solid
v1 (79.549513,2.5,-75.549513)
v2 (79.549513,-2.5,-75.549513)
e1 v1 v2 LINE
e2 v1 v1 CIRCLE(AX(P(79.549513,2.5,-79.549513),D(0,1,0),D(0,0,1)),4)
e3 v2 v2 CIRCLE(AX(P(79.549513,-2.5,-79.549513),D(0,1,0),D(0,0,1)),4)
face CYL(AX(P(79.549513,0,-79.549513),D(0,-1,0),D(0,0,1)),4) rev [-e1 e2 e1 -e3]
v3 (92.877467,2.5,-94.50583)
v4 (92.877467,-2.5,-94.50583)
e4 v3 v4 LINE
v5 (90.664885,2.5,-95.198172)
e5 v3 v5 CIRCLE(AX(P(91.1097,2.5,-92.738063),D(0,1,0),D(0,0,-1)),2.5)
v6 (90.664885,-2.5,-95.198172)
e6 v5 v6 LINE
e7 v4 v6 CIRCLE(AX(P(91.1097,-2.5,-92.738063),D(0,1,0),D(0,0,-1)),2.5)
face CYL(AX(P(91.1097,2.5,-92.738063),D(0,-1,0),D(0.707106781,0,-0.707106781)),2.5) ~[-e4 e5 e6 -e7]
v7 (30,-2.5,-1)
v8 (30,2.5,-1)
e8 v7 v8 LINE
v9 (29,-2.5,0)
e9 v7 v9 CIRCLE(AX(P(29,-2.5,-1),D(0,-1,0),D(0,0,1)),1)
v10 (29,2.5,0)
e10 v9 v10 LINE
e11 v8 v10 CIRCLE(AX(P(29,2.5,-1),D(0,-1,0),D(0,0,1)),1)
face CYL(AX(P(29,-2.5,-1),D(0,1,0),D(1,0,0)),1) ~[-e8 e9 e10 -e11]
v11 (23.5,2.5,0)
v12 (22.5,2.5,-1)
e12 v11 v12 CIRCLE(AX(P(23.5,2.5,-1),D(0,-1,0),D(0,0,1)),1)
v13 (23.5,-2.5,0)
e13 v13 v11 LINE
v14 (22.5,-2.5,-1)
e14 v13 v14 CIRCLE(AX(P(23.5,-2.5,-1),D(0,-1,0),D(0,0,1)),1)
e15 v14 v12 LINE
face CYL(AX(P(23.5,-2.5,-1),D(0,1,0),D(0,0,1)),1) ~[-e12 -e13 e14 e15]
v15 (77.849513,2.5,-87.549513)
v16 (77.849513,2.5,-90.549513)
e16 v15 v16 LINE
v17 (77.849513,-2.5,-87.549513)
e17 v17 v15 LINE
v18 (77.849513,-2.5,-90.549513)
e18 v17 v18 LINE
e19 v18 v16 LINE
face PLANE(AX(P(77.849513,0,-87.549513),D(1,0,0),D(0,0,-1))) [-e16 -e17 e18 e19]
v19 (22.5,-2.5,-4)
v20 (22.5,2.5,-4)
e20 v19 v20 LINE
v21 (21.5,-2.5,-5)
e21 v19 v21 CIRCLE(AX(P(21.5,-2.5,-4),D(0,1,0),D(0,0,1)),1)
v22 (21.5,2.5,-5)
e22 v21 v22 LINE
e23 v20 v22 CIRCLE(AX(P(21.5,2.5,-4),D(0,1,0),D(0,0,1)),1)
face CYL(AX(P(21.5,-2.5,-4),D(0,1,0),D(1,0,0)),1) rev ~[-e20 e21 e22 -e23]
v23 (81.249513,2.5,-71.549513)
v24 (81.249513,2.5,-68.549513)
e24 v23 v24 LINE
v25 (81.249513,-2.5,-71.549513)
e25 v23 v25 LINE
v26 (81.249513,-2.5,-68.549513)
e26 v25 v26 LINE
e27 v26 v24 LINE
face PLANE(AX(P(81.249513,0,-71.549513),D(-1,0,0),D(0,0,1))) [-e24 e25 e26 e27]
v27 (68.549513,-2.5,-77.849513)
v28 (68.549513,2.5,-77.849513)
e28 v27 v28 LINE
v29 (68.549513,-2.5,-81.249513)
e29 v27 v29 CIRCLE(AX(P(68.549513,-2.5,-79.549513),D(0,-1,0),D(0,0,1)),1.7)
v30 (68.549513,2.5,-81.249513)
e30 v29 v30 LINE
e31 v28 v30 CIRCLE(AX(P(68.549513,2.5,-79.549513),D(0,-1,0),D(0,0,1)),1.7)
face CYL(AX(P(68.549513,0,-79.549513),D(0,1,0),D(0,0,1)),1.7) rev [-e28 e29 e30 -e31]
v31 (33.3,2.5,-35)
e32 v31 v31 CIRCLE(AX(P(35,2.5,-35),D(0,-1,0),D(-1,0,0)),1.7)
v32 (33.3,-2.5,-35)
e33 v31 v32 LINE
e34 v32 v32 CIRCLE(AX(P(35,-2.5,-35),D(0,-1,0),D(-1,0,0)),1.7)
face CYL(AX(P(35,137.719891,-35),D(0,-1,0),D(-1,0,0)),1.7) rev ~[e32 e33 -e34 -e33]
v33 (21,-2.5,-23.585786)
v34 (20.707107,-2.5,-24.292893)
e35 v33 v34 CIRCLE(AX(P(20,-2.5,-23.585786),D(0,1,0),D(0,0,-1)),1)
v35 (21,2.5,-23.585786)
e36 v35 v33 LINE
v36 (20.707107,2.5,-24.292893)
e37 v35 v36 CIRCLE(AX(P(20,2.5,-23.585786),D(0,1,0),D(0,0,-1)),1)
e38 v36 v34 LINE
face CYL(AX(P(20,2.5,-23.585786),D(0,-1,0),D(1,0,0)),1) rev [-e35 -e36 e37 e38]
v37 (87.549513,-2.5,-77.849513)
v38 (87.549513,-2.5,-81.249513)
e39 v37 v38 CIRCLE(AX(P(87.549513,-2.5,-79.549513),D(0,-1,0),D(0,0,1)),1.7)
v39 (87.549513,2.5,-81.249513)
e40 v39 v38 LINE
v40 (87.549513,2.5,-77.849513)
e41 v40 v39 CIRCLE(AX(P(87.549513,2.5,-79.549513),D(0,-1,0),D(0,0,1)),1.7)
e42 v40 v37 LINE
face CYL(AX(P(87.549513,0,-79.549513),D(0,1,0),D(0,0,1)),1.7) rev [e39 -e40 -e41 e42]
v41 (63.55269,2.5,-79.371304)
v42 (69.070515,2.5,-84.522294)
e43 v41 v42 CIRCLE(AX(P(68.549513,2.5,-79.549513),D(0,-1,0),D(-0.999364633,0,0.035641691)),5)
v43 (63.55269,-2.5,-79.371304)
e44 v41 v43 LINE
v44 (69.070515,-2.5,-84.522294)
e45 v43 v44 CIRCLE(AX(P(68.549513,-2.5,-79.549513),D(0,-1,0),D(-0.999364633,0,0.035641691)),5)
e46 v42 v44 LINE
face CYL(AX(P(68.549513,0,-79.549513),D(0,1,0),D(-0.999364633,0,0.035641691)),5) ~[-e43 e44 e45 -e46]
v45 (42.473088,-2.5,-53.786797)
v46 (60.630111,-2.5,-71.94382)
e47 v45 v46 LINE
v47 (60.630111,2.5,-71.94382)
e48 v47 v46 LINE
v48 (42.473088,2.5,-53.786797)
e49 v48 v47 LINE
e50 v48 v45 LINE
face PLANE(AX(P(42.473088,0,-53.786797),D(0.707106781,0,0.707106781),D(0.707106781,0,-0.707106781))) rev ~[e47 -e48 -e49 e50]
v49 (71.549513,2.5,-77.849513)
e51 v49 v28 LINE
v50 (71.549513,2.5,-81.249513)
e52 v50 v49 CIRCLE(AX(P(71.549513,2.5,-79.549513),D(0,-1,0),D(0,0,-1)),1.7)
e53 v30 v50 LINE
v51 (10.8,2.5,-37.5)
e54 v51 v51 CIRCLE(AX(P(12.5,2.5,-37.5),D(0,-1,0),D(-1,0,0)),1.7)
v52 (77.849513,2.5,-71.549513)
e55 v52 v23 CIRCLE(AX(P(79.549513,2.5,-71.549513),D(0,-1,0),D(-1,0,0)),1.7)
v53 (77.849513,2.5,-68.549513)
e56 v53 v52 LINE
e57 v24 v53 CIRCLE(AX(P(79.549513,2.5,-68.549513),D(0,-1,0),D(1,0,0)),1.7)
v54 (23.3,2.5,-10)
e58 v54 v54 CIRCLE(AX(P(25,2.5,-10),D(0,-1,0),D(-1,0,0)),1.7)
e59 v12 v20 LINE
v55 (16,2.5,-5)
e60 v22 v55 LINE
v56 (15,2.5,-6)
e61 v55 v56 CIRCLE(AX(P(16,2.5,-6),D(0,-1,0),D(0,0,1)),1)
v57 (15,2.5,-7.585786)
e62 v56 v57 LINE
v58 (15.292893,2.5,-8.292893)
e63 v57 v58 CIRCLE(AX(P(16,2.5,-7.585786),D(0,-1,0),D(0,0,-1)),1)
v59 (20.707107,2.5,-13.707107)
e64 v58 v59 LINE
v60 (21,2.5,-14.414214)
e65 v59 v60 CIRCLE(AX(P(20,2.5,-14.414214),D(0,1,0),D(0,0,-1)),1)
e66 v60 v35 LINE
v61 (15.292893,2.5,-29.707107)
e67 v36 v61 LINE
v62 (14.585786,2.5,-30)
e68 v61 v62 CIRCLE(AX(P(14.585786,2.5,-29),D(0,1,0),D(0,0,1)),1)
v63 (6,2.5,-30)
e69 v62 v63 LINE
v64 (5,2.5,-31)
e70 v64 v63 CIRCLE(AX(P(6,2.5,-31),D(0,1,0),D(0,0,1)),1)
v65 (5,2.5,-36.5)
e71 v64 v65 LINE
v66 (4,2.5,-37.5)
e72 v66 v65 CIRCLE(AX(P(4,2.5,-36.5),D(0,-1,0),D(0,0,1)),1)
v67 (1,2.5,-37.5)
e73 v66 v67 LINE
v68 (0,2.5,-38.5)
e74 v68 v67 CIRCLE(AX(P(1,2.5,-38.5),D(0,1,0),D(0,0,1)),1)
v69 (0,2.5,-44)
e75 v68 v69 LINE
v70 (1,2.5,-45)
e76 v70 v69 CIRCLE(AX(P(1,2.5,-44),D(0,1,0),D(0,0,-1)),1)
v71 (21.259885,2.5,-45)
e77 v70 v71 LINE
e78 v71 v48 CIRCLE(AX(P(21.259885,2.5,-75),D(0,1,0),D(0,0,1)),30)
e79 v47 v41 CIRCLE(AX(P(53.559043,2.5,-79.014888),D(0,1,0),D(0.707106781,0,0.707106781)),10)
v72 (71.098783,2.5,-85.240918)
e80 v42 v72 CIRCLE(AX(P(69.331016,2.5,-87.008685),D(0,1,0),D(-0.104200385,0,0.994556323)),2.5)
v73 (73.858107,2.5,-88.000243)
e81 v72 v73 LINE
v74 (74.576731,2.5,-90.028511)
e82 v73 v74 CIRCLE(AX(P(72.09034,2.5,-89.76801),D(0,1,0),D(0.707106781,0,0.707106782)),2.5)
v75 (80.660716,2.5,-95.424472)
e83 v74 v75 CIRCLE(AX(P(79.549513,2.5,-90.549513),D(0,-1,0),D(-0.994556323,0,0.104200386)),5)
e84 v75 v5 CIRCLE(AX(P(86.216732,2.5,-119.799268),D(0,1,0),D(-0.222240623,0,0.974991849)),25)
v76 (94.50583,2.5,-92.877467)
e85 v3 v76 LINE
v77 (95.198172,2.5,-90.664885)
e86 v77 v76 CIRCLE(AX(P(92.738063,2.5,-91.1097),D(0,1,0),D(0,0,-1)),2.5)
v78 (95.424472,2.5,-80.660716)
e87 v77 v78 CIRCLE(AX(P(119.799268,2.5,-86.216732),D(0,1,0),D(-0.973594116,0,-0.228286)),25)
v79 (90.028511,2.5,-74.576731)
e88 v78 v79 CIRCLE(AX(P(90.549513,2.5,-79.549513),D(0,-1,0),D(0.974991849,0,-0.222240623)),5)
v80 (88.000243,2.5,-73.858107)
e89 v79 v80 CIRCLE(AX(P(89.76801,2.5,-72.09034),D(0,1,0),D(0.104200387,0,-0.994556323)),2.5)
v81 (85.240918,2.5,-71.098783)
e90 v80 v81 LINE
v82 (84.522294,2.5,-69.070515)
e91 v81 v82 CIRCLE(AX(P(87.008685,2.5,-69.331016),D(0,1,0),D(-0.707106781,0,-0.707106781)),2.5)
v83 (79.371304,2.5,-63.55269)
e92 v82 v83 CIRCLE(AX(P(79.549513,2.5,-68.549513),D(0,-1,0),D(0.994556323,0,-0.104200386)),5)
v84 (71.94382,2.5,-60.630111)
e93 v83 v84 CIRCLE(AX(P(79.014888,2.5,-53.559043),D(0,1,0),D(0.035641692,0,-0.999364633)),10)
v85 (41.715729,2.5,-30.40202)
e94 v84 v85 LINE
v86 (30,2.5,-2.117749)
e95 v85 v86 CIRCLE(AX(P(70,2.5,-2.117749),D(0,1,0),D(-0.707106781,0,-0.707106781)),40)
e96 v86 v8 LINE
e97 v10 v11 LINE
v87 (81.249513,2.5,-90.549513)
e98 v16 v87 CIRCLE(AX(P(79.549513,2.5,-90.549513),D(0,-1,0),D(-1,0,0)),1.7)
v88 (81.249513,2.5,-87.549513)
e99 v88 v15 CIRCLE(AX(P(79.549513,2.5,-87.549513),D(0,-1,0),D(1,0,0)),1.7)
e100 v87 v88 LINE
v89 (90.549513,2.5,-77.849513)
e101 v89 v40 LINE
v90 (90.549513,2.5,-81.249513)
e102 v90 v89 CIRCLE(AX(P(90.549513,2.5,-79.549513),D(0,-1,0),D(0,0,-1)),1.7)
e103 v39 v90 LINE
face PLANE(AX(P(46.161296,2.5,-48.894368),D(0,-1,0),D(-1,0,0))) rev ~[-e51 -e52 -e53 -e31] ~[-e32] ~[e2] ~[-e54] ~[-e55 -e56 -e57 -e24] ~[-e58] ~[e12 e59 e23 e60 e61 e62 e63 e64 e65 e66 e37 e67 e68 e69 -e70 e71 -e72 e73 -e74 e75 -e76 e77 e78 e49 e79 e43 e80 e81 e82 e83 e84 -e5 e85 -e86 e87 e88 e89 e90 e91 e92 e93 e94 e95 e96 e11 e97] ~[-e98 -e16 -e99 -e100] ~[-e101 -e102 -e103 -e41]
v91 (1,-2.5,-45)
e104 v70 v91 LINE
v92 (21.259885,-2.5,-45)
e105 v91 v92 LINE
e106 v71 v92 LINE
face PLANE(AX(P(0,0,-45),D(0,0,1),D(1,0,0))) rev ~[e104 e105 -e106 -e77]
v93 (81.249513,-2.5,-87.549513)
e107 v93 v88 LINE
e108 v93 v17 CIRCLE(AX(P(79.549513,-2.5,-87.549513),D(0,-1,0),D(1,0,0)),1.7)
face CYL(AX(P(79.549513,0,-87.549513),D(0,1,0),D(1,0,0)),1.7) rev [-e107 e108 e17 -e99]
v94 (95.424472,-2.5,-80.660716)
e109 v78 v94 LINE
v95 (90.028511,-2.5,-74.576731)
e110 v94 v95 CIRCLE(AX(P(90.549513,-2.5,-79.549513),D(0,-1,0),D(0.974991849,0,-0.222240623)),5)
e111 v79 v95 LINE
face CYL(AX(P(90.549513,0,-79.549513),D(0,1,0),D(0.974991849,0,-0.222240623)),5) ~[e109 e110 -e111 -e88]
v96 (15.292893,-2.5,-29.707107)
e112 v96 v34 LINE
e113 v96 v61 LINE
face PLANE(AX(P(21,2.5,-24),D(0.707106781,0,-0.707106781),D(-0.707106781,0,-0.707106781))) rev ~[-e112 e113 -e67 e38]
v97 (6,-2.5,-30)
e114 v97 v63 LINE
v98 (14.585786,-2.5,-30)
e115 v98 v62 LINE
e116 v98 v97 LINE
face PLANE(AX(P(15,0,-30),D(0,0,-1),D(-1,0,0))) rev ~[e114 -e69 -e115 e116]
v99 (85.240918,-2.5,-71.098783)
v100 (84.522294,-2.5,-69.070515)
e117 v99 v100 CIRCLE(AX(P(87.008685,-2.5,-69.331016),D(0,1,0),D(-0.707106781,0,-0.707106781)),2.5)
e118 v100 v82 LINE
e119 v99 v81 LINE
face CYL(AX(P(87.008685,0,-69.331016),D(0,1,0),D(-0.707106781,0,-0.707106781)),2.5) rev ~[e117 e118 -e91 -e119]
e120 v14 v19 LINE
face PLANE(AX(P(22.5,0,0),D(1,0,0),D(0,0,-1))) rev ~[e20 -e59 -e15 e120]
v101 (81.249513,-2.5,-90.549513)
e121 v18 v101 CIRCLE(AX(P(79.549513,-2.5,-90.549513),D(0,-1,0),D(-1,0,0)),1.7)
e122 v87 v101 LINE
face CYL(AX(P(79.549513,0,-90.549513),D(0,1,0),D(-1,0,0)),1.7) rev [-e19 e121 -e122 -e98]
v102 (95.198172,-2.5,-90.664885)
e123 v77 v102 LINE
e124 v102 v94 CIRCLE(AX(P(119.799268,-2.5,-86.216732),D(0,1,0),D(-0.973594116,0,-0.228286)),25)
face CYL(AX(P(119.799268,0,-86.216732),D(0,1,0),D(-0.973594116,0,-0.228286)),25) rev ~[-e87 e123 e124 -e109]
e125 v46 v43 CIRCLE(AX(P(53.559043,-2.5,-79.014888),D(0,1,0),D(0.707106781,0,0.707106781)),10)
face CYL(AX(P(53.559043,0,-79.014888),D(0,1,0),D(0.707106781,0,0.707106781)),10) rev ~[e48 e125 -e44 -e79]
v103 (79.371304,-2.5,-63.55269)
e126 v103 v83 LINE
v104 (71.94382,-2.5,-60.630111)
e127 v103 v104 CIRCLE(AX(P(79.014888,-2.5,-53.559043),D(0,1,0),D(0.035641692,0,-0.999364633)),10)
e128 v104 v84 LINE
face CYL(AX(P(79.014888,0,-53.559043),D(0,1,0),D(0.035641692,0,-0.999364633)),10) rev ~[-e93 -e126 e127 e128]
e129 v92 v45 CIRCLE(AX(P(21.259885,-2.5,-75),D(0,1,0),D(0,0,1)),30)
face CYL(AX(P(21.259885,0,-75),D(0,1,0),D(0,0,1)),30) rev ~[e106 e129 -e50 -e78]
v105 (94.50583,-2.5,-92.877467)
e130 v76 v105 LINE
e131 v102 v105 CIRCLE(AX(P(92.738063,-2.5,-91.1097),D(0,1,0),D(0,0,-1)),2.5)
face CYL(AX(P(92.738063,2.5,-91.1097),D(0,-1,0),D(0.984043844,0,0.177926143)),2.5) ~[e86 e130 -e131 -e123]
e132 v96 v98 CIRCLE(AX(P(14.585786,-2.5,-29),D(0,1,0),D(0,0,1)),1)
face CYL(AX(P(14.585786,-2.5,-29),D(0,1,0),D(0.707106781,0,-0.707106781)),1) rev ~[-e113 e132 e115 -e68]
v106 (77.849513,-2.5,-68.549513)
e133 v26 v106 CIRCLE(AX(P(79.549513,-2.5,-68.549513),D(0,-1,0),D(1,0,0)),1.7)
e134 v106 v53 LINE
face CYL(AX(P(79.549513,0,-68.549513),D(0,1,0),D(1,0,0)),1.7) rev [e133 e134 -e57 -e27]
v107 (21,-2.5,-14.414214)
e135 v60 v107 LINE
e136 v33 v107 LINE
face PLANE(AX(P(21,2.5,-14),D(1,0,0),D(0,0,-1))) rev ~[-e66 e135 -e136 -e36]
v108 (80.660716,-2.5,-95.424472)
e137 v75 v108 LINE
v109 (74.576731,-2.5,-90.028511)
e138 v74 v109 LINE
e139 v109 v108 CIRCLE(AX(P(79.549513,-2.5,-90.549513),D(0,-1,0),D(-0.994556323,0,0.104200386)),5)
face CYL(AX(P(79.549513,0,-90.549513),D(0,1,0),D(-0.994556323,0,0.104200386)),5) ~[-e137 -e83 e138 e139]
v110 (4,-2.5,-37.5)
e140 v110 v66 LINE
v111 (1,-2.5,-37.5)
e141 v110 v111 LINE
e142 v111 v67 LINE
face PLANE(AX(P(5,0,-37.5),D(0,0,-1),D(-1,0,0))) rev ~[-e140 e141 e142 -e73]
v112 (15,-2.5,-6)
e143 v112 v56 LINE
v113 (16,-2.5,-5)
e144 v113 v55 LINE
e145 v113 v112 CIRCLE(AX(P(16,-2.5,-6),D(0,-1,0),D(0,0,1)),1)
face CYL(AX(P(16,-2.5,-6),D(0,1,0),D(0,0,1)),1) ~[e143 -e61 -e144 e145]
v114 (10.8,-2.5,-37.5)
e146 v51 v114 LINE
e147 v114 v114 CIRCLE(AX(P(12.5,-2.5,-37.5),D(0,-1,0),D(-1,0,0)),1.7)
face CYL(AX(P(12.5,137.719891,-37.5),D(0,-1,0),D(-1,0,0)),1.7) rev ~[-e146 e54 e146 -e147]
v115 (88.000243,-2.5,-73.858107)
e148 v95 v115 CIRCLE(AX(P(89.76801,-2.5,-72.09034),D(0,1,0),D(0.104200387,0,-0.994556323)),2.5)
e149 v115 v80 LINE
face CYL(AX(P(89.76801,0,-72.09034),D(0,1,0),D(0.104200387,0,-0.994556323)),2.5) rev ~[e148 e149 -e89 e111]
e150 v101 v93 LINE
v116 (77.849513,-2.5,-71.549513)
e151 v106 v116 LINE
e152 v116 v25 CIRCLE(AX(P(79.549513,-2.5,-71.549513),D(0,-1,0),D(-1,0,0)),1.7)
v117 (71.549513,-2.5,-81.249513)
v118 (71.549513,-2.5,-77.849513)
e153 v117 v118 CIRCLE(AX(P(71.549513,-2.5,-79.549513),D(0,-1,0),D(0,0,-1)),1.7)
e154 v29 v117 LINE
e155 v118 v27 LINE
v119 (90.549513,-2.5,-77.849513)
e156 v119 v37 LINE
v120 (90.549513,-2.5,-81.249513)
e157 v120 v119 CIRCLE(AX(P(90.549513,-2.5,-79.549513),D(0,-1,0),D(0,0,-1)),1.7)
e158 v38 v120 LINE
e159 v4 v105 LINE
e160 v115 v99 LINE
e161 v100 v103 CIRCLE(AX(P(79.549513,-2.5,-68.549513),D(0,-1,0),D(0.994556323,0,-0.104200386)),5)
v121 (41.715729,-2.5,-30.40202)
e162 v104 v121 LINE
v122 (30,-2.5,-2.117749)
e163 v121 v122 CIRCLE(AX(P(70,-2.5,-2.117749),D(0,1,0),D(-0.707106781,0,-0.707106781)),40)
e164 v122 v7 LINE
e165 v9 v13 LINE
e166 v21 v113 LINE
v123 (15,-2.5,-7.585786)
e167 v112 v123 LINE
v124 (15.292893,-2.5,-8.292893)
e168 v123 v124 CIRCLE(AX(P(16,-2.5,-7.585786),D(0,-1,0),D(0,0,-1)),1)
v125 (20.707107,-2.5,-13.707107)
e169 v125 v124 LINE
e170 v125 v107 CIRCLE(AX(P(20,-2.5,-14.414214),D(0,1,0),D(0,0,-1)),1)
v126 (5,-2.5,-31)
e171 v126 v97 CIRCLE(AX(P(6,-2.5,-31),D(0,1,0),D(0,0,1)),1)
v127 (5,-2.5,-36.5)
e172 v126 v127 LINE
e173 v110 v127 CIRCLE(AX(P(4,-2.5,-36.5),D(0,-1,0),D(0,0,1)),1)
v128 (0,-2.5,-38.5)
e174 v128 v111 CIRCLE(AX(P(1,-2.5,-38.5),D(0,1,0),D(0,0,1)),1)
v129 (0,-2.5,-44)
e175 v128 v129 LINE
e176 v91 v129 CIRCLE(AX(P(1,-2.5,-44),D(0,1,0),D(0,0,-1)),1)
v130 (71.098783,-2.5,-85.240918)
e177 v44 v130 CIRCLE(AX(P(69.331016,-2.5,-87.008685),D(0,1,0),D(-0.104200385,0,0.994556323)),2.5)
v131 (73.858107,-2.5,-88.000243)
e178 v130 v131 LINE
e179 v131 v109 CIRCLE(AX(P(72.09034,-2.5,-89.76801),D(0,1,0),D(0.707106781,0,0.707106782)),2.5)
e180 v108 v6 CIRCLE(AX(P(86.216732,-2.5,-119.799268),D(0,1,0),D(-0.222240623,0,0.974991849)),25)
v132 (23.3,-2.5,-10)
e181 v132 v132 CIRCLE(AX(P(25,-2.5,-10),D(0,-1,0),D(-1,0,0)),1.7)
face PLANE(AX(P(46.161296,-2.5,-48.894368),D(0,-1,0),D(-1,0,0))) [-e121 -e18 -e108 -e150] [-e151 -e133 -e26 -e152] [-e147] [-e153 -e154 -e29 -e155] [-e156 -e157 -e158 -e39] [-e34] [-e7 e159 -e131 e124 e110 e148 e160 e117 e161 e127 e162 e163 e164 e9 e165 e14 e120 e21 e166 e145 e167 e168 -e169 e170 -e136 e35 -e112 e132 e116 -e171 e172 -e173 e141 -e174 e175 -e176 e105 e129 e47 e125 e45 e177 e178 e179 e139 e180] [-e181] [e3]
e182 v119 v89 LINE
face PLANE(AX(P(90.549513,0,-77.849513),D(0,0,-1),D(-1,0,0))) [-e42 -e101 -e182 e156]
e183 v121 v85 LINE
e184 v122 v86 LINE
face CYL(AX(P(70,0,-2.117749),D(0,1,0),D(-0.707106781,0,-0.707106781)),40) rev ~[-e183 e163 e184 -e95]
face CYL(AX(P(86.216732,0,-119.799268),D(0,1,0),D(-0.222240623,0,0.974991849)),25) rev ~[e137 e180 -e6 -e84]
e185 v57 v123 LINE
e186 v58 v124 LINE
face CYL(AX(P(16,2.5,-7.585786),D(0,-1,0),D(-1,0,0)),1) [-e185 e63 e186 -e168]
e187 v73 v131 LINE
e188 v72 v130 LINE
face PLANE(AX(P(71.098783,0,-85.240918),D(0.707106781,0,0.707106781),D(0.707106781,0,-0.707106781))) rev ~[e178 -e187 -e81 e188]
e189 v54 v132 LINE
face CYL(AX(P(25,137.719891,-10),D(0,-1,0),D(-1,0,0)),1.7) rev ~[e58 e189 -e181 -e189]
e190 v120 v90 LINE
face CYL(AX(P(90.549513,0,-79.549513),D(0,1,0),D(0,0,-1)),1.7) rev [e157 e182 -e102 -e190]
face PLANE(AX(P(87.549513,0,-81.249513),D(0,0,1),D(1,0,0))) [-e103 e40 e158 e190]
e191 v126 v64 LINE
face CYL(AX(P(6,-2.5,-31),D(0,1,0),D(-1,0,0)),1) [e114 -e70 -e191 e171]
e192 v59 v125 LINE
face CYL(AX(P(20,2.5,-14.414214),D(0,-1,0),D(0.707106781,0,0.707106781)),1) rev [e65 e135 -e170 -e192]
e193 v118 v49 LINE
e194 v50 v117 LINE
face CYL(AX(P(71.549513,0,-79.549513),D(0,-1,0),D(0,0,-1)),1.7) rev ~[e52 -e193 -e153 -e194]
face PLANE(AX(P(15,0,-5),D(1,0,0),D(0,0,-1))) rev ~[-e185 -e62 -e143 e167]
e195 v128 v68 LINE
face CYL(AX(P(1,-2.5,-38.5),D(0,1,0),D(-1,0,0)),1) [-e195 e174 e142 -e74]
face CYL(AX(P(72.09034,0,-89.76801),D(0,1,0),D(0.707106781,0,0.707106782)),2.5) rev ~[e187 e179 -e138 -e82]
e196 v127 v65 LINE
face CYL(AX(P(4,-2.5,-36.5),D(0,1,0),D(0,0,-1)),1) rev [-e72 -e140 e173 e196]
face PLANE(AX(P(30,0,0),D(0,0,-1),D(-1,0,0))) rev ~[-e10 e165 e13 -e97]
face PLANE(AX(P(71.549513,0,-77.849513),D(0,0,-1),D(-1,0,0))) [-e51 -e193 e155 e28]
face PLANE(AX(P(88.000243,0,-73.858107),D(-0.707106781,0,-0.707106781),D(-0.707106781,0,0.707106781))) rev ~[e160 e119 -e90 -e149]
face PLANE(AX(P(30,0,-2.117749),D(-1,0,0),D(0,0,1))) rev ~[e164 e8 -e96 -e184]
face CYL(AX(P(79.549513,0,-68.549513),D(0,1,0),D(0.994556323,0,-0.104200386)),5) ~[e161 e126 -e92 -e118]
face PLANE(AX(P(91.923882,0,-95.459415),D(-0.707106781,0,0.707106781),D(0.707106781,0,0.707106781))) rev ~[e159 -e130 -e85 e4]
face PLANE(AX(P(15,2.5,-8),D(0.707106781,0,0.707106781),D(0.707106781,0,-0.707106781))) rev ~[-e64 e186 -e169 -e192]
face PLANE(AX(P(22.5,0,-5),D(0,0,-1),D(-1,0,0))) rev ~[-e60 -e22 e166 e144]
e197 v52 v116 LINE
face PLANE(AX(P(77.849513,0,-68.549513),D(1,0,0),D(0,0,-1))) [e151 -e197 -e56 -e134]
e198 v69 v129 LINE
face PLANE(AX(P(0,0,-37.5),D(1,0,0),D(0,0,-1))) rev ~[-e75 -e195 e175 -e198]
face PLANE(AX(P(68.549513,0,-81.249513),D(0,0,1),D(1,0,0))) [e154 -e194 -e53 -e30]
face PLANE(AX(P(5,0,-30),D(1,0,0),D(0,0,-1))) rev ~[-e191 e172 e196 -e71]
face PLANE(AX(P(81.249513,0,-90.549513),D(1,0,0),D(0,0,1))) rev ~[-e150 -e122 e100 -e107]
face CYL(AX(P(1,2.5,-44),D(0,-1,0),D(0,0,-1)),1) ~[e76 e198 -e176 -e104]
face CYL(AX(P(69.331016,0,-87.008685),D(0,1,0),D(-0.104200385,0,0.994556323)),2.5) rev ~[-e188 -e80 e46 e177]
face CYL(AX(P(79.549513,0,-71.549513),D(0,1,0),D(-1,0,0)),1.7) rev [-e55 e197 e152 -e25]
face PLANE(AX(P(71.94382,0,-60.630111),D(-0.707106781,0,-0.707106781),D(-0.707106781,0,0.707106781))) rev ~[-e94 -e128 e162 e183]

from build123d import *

# Parameters (mm, degrees)
SKETCH1_R            = 4
BOSS_EXTRUDE1_DEPTH  = 2.5
CUT_EXTRUDE1_DEPTH   = 10
FILLET1_R            = 2.5
FILLET2_R            = 1
M3_CLEARANCE_HOLE1_D = 3.4
M3_CLEARANCE_HOLE2_D = 3.4


with BuildPart() as part:
    # Sketch1 → Boss-Extrude1 (new, symmetric)
    with BuildSketch(Plane(origin=(0, 0, 0), x_dir=(1, 0, 0), z_dir=(0, 1, 0))):
        with BuildLine():
            Line((0, 37.5), (0, 45))
            Line((0, 45), (21.25988463, 45))
            ThreePointArc((21.25988463, 45), (32.740387601, 47.283614025), (42.473088065, 53.786796564))
            Line((42.473088065, 53.786796564), (60.630111199, 71.943819698))
            ThreePointArc((60.630111199, 71.943819698), (62.864579349, 75.353330401), (63.552689718, 79.371304426))
            ThreePointArc((63.552689718, 79.371304426), (65.137560566, 83.204452196), (69.070514812, 84.522294498))
            ThreePointArc((69.070514812, 84.522294498), (70.16592161, 84.652219255), (71.098782729, 85.240918353))
            Line((71.098782729, 85.240918353), (73.858107414, 88.000243038))
            ThreePointArc((73.858107414, 88.000243038), (74.446806512, 88.933104157), (74.576731268, 90.028510955))
            ThreePointArc((74.576731268, 90.028510955), (76.231825981, 94.29022854), (80.660715996, 95.424472129))
            ThreePointArc((80.660715996, 95.424472129), (86.294292266, 94.799388668), (91.923881554, 95.45941546))
            Line((91.923881554, 95.45941546), (95.45941546, 91.923881554))
            ThreePointArc((95.45941546, 91.923881554), (94.799388668, 86.294292266), (95.424472129, 80.660715996))
            ThreePointArc((95.424472129, 80.660715996), (94.29022854, 76.231825981), (90.028510955, 74.576731268))
            ThreePointArc((90.028510955, 74.576731268), (88.933104157, 74.446806512), (88.000243038, 73.858107414))
            Line((88.000243038, 73.858107414), (85.240918353, 71.098782729))
            ThreePointArc((85.240918353, 71.098782729), (84.652219255, 70.16592161), (84.522294498, 69.070514812))
            ThreePointArc((84.522294498, 69.070514812), (83.204452196, 65.137560566), (79.371304426, 63.552689718))
            ThreePointArc((79.371304426, 63.552689718), (75.353330401, 62.864579349), (71.943819698, 60.630111199))
            Line((71.943819698, 60.630111199), (41.715728753, 30.402020254))
            ThreePointArc((41.715728753, 30.402020254), (33.0448187, 17.425086301), (30, 2.117749006))
            Line((30, 2.117749006), (30, 0))
            Line((30, 0), (22.5, 0))
            Line((22.5, 0), (22.5, 5))
            Line((22.5, 5), (15, 5))
            Line((15, 5), (15, 30))
            Line((15, 30), (5, 30))
            Line((5, 30), (5, 37.5))
            Line((5, 37.5), (0, 37.5))
        make_face()
        with Locations(Location((79.549512883, 79.549512883, 0), (0, 0, 270))):
            Circle(SKETCH1_R, mode=Mode.SUBTRACT)
        with BuildLine():
            Line((77.849512883, 87.549512883), (77.849512883, 90.549512883))
            ThreePointArc((77.849512883, 90.549512883), (79.549512883, 92.249512883), (81.249512883, 90.549512883))
            Line((81.249512883, 90.549512883), (81.249512883, 87.549512883))
            ThreePointArc((81.249512883, 87.549512883), (79.549512883, 85.849512883), (77.849512883, 87.549512883))
        make_face(mode=Mode.SUBTRACT)
        with BuildLine():
            Line((87.549512883, 81.249512883), (90.549512883, 81.249512883))
            ThreePointArc((90.549512883, 81.249512883), (92.249512883, 79.549512883), (90.549512883, 77.849512883))
            Line((90.549512883, 77.849512883), (87.549512883, 77.849512883))
            ThreePointArc((87.549512883, 77.849512883), (85.849512883, 79.549512883), (87.549512883, 81.249512883))
        make_face(mode=Mode.SUBTRACT)
        with BuildLine():
            Line((81.249512883, 71.549512883), (81.249512883, 68.549512883))
            ThreePointArc((81.249512883, 68.549512883), (79.549512883, 66.849512883), (77.849512883, 68.549512883))
            Line((77.849512883, 68.549512883), (77.849512883, 71.549512883))
            ThreePointArc((77.849512883, 71.549512883), (79.549512883, 73.249512883), (81.249512883, 71.549512883))
        make_face(mode=Mode.SUBTRACT)
        with BuildLine():
            Line((71.549512883, 77.849512883), (68.549512883, 77.849512883))
            ThreePointArc((68.549512883, 77.849512883), (66.849512883, 79.549512883), (68.549512883, 81.249512883))
            Line((68.549512883, 81.249512883), (71.549512883, 81.249512883))
            ThreePointArc((71.549512883, 81.249512883), (73.249512883, 79.549512883), (71.549512883, 77.849512883))
        make_face(mode=Mode.SUBTRACT)
    extrude(amount=BOSS_EXTRUDE1_DEPTH, both=True)

    # Sketch2 → Cut-Extrude1 (cut)
    with BuildSketch(Plane(origin=(0, 2.5, 0), x_dir=(1, 0, 0), z_dir=(0, 1, 0))):
        Polygon((21, 24), (15, 30), (15, 8), (21, 14), align=None)
    extrude(amount=-CUT_EXTRUDE1_DEPTH, mode=Mode.SUBTRACT)

    # Fillet1
    fillet1_edges = [part.edges().sort_by_distance(p)[0] for p in [
        (91.923881554, 0, -95.45941546),
        (95.45941546, 0, -91.923881554),
    ]]
    fillet(fillet1_edges, radius=FILLET1_R)

    # Fillet2
    fillet2_edges = [part.edges().sort_by_distance(p)[0] for p in [
        (21, 0, -14),
        (15, 0, -8),
        (21, 0, -24),
        (30, 0, 0),
        (22.5, 0, 0),
        (22.5, 0, -5),
        (15, 0, -5),
        (15, 0, -30),
        (5, 0, -30),
        (5, 0, -37.5),
        (0, 0, -37.5),
        (0, 0, -45),
    ]]
    fillet(fillet2_edges, radius=FILLET2_R)

    # M3 Clearance Hole1 (through all)
    with Locations(Plane(origin=(0, 2.5, 0), x_dir=(1, 0, 0), z_dir=(0, 1, 0))):
        with Locations((35, 35)):
            Hole(M3_CLEARANCE_HOLE1_D / 2)

    # M3 Clearance Hole2 (through all)
    with Locations(Plane(origin=(0, 2.5, 0), x_dir=(1, 0, 0), z_dir=(0, 1, 0))):
        with Locations((12.5, 37.5), (25, 10)):
            Hole(M3_CLEARANCE_HOLE2_D / 2)


solid = part.part
